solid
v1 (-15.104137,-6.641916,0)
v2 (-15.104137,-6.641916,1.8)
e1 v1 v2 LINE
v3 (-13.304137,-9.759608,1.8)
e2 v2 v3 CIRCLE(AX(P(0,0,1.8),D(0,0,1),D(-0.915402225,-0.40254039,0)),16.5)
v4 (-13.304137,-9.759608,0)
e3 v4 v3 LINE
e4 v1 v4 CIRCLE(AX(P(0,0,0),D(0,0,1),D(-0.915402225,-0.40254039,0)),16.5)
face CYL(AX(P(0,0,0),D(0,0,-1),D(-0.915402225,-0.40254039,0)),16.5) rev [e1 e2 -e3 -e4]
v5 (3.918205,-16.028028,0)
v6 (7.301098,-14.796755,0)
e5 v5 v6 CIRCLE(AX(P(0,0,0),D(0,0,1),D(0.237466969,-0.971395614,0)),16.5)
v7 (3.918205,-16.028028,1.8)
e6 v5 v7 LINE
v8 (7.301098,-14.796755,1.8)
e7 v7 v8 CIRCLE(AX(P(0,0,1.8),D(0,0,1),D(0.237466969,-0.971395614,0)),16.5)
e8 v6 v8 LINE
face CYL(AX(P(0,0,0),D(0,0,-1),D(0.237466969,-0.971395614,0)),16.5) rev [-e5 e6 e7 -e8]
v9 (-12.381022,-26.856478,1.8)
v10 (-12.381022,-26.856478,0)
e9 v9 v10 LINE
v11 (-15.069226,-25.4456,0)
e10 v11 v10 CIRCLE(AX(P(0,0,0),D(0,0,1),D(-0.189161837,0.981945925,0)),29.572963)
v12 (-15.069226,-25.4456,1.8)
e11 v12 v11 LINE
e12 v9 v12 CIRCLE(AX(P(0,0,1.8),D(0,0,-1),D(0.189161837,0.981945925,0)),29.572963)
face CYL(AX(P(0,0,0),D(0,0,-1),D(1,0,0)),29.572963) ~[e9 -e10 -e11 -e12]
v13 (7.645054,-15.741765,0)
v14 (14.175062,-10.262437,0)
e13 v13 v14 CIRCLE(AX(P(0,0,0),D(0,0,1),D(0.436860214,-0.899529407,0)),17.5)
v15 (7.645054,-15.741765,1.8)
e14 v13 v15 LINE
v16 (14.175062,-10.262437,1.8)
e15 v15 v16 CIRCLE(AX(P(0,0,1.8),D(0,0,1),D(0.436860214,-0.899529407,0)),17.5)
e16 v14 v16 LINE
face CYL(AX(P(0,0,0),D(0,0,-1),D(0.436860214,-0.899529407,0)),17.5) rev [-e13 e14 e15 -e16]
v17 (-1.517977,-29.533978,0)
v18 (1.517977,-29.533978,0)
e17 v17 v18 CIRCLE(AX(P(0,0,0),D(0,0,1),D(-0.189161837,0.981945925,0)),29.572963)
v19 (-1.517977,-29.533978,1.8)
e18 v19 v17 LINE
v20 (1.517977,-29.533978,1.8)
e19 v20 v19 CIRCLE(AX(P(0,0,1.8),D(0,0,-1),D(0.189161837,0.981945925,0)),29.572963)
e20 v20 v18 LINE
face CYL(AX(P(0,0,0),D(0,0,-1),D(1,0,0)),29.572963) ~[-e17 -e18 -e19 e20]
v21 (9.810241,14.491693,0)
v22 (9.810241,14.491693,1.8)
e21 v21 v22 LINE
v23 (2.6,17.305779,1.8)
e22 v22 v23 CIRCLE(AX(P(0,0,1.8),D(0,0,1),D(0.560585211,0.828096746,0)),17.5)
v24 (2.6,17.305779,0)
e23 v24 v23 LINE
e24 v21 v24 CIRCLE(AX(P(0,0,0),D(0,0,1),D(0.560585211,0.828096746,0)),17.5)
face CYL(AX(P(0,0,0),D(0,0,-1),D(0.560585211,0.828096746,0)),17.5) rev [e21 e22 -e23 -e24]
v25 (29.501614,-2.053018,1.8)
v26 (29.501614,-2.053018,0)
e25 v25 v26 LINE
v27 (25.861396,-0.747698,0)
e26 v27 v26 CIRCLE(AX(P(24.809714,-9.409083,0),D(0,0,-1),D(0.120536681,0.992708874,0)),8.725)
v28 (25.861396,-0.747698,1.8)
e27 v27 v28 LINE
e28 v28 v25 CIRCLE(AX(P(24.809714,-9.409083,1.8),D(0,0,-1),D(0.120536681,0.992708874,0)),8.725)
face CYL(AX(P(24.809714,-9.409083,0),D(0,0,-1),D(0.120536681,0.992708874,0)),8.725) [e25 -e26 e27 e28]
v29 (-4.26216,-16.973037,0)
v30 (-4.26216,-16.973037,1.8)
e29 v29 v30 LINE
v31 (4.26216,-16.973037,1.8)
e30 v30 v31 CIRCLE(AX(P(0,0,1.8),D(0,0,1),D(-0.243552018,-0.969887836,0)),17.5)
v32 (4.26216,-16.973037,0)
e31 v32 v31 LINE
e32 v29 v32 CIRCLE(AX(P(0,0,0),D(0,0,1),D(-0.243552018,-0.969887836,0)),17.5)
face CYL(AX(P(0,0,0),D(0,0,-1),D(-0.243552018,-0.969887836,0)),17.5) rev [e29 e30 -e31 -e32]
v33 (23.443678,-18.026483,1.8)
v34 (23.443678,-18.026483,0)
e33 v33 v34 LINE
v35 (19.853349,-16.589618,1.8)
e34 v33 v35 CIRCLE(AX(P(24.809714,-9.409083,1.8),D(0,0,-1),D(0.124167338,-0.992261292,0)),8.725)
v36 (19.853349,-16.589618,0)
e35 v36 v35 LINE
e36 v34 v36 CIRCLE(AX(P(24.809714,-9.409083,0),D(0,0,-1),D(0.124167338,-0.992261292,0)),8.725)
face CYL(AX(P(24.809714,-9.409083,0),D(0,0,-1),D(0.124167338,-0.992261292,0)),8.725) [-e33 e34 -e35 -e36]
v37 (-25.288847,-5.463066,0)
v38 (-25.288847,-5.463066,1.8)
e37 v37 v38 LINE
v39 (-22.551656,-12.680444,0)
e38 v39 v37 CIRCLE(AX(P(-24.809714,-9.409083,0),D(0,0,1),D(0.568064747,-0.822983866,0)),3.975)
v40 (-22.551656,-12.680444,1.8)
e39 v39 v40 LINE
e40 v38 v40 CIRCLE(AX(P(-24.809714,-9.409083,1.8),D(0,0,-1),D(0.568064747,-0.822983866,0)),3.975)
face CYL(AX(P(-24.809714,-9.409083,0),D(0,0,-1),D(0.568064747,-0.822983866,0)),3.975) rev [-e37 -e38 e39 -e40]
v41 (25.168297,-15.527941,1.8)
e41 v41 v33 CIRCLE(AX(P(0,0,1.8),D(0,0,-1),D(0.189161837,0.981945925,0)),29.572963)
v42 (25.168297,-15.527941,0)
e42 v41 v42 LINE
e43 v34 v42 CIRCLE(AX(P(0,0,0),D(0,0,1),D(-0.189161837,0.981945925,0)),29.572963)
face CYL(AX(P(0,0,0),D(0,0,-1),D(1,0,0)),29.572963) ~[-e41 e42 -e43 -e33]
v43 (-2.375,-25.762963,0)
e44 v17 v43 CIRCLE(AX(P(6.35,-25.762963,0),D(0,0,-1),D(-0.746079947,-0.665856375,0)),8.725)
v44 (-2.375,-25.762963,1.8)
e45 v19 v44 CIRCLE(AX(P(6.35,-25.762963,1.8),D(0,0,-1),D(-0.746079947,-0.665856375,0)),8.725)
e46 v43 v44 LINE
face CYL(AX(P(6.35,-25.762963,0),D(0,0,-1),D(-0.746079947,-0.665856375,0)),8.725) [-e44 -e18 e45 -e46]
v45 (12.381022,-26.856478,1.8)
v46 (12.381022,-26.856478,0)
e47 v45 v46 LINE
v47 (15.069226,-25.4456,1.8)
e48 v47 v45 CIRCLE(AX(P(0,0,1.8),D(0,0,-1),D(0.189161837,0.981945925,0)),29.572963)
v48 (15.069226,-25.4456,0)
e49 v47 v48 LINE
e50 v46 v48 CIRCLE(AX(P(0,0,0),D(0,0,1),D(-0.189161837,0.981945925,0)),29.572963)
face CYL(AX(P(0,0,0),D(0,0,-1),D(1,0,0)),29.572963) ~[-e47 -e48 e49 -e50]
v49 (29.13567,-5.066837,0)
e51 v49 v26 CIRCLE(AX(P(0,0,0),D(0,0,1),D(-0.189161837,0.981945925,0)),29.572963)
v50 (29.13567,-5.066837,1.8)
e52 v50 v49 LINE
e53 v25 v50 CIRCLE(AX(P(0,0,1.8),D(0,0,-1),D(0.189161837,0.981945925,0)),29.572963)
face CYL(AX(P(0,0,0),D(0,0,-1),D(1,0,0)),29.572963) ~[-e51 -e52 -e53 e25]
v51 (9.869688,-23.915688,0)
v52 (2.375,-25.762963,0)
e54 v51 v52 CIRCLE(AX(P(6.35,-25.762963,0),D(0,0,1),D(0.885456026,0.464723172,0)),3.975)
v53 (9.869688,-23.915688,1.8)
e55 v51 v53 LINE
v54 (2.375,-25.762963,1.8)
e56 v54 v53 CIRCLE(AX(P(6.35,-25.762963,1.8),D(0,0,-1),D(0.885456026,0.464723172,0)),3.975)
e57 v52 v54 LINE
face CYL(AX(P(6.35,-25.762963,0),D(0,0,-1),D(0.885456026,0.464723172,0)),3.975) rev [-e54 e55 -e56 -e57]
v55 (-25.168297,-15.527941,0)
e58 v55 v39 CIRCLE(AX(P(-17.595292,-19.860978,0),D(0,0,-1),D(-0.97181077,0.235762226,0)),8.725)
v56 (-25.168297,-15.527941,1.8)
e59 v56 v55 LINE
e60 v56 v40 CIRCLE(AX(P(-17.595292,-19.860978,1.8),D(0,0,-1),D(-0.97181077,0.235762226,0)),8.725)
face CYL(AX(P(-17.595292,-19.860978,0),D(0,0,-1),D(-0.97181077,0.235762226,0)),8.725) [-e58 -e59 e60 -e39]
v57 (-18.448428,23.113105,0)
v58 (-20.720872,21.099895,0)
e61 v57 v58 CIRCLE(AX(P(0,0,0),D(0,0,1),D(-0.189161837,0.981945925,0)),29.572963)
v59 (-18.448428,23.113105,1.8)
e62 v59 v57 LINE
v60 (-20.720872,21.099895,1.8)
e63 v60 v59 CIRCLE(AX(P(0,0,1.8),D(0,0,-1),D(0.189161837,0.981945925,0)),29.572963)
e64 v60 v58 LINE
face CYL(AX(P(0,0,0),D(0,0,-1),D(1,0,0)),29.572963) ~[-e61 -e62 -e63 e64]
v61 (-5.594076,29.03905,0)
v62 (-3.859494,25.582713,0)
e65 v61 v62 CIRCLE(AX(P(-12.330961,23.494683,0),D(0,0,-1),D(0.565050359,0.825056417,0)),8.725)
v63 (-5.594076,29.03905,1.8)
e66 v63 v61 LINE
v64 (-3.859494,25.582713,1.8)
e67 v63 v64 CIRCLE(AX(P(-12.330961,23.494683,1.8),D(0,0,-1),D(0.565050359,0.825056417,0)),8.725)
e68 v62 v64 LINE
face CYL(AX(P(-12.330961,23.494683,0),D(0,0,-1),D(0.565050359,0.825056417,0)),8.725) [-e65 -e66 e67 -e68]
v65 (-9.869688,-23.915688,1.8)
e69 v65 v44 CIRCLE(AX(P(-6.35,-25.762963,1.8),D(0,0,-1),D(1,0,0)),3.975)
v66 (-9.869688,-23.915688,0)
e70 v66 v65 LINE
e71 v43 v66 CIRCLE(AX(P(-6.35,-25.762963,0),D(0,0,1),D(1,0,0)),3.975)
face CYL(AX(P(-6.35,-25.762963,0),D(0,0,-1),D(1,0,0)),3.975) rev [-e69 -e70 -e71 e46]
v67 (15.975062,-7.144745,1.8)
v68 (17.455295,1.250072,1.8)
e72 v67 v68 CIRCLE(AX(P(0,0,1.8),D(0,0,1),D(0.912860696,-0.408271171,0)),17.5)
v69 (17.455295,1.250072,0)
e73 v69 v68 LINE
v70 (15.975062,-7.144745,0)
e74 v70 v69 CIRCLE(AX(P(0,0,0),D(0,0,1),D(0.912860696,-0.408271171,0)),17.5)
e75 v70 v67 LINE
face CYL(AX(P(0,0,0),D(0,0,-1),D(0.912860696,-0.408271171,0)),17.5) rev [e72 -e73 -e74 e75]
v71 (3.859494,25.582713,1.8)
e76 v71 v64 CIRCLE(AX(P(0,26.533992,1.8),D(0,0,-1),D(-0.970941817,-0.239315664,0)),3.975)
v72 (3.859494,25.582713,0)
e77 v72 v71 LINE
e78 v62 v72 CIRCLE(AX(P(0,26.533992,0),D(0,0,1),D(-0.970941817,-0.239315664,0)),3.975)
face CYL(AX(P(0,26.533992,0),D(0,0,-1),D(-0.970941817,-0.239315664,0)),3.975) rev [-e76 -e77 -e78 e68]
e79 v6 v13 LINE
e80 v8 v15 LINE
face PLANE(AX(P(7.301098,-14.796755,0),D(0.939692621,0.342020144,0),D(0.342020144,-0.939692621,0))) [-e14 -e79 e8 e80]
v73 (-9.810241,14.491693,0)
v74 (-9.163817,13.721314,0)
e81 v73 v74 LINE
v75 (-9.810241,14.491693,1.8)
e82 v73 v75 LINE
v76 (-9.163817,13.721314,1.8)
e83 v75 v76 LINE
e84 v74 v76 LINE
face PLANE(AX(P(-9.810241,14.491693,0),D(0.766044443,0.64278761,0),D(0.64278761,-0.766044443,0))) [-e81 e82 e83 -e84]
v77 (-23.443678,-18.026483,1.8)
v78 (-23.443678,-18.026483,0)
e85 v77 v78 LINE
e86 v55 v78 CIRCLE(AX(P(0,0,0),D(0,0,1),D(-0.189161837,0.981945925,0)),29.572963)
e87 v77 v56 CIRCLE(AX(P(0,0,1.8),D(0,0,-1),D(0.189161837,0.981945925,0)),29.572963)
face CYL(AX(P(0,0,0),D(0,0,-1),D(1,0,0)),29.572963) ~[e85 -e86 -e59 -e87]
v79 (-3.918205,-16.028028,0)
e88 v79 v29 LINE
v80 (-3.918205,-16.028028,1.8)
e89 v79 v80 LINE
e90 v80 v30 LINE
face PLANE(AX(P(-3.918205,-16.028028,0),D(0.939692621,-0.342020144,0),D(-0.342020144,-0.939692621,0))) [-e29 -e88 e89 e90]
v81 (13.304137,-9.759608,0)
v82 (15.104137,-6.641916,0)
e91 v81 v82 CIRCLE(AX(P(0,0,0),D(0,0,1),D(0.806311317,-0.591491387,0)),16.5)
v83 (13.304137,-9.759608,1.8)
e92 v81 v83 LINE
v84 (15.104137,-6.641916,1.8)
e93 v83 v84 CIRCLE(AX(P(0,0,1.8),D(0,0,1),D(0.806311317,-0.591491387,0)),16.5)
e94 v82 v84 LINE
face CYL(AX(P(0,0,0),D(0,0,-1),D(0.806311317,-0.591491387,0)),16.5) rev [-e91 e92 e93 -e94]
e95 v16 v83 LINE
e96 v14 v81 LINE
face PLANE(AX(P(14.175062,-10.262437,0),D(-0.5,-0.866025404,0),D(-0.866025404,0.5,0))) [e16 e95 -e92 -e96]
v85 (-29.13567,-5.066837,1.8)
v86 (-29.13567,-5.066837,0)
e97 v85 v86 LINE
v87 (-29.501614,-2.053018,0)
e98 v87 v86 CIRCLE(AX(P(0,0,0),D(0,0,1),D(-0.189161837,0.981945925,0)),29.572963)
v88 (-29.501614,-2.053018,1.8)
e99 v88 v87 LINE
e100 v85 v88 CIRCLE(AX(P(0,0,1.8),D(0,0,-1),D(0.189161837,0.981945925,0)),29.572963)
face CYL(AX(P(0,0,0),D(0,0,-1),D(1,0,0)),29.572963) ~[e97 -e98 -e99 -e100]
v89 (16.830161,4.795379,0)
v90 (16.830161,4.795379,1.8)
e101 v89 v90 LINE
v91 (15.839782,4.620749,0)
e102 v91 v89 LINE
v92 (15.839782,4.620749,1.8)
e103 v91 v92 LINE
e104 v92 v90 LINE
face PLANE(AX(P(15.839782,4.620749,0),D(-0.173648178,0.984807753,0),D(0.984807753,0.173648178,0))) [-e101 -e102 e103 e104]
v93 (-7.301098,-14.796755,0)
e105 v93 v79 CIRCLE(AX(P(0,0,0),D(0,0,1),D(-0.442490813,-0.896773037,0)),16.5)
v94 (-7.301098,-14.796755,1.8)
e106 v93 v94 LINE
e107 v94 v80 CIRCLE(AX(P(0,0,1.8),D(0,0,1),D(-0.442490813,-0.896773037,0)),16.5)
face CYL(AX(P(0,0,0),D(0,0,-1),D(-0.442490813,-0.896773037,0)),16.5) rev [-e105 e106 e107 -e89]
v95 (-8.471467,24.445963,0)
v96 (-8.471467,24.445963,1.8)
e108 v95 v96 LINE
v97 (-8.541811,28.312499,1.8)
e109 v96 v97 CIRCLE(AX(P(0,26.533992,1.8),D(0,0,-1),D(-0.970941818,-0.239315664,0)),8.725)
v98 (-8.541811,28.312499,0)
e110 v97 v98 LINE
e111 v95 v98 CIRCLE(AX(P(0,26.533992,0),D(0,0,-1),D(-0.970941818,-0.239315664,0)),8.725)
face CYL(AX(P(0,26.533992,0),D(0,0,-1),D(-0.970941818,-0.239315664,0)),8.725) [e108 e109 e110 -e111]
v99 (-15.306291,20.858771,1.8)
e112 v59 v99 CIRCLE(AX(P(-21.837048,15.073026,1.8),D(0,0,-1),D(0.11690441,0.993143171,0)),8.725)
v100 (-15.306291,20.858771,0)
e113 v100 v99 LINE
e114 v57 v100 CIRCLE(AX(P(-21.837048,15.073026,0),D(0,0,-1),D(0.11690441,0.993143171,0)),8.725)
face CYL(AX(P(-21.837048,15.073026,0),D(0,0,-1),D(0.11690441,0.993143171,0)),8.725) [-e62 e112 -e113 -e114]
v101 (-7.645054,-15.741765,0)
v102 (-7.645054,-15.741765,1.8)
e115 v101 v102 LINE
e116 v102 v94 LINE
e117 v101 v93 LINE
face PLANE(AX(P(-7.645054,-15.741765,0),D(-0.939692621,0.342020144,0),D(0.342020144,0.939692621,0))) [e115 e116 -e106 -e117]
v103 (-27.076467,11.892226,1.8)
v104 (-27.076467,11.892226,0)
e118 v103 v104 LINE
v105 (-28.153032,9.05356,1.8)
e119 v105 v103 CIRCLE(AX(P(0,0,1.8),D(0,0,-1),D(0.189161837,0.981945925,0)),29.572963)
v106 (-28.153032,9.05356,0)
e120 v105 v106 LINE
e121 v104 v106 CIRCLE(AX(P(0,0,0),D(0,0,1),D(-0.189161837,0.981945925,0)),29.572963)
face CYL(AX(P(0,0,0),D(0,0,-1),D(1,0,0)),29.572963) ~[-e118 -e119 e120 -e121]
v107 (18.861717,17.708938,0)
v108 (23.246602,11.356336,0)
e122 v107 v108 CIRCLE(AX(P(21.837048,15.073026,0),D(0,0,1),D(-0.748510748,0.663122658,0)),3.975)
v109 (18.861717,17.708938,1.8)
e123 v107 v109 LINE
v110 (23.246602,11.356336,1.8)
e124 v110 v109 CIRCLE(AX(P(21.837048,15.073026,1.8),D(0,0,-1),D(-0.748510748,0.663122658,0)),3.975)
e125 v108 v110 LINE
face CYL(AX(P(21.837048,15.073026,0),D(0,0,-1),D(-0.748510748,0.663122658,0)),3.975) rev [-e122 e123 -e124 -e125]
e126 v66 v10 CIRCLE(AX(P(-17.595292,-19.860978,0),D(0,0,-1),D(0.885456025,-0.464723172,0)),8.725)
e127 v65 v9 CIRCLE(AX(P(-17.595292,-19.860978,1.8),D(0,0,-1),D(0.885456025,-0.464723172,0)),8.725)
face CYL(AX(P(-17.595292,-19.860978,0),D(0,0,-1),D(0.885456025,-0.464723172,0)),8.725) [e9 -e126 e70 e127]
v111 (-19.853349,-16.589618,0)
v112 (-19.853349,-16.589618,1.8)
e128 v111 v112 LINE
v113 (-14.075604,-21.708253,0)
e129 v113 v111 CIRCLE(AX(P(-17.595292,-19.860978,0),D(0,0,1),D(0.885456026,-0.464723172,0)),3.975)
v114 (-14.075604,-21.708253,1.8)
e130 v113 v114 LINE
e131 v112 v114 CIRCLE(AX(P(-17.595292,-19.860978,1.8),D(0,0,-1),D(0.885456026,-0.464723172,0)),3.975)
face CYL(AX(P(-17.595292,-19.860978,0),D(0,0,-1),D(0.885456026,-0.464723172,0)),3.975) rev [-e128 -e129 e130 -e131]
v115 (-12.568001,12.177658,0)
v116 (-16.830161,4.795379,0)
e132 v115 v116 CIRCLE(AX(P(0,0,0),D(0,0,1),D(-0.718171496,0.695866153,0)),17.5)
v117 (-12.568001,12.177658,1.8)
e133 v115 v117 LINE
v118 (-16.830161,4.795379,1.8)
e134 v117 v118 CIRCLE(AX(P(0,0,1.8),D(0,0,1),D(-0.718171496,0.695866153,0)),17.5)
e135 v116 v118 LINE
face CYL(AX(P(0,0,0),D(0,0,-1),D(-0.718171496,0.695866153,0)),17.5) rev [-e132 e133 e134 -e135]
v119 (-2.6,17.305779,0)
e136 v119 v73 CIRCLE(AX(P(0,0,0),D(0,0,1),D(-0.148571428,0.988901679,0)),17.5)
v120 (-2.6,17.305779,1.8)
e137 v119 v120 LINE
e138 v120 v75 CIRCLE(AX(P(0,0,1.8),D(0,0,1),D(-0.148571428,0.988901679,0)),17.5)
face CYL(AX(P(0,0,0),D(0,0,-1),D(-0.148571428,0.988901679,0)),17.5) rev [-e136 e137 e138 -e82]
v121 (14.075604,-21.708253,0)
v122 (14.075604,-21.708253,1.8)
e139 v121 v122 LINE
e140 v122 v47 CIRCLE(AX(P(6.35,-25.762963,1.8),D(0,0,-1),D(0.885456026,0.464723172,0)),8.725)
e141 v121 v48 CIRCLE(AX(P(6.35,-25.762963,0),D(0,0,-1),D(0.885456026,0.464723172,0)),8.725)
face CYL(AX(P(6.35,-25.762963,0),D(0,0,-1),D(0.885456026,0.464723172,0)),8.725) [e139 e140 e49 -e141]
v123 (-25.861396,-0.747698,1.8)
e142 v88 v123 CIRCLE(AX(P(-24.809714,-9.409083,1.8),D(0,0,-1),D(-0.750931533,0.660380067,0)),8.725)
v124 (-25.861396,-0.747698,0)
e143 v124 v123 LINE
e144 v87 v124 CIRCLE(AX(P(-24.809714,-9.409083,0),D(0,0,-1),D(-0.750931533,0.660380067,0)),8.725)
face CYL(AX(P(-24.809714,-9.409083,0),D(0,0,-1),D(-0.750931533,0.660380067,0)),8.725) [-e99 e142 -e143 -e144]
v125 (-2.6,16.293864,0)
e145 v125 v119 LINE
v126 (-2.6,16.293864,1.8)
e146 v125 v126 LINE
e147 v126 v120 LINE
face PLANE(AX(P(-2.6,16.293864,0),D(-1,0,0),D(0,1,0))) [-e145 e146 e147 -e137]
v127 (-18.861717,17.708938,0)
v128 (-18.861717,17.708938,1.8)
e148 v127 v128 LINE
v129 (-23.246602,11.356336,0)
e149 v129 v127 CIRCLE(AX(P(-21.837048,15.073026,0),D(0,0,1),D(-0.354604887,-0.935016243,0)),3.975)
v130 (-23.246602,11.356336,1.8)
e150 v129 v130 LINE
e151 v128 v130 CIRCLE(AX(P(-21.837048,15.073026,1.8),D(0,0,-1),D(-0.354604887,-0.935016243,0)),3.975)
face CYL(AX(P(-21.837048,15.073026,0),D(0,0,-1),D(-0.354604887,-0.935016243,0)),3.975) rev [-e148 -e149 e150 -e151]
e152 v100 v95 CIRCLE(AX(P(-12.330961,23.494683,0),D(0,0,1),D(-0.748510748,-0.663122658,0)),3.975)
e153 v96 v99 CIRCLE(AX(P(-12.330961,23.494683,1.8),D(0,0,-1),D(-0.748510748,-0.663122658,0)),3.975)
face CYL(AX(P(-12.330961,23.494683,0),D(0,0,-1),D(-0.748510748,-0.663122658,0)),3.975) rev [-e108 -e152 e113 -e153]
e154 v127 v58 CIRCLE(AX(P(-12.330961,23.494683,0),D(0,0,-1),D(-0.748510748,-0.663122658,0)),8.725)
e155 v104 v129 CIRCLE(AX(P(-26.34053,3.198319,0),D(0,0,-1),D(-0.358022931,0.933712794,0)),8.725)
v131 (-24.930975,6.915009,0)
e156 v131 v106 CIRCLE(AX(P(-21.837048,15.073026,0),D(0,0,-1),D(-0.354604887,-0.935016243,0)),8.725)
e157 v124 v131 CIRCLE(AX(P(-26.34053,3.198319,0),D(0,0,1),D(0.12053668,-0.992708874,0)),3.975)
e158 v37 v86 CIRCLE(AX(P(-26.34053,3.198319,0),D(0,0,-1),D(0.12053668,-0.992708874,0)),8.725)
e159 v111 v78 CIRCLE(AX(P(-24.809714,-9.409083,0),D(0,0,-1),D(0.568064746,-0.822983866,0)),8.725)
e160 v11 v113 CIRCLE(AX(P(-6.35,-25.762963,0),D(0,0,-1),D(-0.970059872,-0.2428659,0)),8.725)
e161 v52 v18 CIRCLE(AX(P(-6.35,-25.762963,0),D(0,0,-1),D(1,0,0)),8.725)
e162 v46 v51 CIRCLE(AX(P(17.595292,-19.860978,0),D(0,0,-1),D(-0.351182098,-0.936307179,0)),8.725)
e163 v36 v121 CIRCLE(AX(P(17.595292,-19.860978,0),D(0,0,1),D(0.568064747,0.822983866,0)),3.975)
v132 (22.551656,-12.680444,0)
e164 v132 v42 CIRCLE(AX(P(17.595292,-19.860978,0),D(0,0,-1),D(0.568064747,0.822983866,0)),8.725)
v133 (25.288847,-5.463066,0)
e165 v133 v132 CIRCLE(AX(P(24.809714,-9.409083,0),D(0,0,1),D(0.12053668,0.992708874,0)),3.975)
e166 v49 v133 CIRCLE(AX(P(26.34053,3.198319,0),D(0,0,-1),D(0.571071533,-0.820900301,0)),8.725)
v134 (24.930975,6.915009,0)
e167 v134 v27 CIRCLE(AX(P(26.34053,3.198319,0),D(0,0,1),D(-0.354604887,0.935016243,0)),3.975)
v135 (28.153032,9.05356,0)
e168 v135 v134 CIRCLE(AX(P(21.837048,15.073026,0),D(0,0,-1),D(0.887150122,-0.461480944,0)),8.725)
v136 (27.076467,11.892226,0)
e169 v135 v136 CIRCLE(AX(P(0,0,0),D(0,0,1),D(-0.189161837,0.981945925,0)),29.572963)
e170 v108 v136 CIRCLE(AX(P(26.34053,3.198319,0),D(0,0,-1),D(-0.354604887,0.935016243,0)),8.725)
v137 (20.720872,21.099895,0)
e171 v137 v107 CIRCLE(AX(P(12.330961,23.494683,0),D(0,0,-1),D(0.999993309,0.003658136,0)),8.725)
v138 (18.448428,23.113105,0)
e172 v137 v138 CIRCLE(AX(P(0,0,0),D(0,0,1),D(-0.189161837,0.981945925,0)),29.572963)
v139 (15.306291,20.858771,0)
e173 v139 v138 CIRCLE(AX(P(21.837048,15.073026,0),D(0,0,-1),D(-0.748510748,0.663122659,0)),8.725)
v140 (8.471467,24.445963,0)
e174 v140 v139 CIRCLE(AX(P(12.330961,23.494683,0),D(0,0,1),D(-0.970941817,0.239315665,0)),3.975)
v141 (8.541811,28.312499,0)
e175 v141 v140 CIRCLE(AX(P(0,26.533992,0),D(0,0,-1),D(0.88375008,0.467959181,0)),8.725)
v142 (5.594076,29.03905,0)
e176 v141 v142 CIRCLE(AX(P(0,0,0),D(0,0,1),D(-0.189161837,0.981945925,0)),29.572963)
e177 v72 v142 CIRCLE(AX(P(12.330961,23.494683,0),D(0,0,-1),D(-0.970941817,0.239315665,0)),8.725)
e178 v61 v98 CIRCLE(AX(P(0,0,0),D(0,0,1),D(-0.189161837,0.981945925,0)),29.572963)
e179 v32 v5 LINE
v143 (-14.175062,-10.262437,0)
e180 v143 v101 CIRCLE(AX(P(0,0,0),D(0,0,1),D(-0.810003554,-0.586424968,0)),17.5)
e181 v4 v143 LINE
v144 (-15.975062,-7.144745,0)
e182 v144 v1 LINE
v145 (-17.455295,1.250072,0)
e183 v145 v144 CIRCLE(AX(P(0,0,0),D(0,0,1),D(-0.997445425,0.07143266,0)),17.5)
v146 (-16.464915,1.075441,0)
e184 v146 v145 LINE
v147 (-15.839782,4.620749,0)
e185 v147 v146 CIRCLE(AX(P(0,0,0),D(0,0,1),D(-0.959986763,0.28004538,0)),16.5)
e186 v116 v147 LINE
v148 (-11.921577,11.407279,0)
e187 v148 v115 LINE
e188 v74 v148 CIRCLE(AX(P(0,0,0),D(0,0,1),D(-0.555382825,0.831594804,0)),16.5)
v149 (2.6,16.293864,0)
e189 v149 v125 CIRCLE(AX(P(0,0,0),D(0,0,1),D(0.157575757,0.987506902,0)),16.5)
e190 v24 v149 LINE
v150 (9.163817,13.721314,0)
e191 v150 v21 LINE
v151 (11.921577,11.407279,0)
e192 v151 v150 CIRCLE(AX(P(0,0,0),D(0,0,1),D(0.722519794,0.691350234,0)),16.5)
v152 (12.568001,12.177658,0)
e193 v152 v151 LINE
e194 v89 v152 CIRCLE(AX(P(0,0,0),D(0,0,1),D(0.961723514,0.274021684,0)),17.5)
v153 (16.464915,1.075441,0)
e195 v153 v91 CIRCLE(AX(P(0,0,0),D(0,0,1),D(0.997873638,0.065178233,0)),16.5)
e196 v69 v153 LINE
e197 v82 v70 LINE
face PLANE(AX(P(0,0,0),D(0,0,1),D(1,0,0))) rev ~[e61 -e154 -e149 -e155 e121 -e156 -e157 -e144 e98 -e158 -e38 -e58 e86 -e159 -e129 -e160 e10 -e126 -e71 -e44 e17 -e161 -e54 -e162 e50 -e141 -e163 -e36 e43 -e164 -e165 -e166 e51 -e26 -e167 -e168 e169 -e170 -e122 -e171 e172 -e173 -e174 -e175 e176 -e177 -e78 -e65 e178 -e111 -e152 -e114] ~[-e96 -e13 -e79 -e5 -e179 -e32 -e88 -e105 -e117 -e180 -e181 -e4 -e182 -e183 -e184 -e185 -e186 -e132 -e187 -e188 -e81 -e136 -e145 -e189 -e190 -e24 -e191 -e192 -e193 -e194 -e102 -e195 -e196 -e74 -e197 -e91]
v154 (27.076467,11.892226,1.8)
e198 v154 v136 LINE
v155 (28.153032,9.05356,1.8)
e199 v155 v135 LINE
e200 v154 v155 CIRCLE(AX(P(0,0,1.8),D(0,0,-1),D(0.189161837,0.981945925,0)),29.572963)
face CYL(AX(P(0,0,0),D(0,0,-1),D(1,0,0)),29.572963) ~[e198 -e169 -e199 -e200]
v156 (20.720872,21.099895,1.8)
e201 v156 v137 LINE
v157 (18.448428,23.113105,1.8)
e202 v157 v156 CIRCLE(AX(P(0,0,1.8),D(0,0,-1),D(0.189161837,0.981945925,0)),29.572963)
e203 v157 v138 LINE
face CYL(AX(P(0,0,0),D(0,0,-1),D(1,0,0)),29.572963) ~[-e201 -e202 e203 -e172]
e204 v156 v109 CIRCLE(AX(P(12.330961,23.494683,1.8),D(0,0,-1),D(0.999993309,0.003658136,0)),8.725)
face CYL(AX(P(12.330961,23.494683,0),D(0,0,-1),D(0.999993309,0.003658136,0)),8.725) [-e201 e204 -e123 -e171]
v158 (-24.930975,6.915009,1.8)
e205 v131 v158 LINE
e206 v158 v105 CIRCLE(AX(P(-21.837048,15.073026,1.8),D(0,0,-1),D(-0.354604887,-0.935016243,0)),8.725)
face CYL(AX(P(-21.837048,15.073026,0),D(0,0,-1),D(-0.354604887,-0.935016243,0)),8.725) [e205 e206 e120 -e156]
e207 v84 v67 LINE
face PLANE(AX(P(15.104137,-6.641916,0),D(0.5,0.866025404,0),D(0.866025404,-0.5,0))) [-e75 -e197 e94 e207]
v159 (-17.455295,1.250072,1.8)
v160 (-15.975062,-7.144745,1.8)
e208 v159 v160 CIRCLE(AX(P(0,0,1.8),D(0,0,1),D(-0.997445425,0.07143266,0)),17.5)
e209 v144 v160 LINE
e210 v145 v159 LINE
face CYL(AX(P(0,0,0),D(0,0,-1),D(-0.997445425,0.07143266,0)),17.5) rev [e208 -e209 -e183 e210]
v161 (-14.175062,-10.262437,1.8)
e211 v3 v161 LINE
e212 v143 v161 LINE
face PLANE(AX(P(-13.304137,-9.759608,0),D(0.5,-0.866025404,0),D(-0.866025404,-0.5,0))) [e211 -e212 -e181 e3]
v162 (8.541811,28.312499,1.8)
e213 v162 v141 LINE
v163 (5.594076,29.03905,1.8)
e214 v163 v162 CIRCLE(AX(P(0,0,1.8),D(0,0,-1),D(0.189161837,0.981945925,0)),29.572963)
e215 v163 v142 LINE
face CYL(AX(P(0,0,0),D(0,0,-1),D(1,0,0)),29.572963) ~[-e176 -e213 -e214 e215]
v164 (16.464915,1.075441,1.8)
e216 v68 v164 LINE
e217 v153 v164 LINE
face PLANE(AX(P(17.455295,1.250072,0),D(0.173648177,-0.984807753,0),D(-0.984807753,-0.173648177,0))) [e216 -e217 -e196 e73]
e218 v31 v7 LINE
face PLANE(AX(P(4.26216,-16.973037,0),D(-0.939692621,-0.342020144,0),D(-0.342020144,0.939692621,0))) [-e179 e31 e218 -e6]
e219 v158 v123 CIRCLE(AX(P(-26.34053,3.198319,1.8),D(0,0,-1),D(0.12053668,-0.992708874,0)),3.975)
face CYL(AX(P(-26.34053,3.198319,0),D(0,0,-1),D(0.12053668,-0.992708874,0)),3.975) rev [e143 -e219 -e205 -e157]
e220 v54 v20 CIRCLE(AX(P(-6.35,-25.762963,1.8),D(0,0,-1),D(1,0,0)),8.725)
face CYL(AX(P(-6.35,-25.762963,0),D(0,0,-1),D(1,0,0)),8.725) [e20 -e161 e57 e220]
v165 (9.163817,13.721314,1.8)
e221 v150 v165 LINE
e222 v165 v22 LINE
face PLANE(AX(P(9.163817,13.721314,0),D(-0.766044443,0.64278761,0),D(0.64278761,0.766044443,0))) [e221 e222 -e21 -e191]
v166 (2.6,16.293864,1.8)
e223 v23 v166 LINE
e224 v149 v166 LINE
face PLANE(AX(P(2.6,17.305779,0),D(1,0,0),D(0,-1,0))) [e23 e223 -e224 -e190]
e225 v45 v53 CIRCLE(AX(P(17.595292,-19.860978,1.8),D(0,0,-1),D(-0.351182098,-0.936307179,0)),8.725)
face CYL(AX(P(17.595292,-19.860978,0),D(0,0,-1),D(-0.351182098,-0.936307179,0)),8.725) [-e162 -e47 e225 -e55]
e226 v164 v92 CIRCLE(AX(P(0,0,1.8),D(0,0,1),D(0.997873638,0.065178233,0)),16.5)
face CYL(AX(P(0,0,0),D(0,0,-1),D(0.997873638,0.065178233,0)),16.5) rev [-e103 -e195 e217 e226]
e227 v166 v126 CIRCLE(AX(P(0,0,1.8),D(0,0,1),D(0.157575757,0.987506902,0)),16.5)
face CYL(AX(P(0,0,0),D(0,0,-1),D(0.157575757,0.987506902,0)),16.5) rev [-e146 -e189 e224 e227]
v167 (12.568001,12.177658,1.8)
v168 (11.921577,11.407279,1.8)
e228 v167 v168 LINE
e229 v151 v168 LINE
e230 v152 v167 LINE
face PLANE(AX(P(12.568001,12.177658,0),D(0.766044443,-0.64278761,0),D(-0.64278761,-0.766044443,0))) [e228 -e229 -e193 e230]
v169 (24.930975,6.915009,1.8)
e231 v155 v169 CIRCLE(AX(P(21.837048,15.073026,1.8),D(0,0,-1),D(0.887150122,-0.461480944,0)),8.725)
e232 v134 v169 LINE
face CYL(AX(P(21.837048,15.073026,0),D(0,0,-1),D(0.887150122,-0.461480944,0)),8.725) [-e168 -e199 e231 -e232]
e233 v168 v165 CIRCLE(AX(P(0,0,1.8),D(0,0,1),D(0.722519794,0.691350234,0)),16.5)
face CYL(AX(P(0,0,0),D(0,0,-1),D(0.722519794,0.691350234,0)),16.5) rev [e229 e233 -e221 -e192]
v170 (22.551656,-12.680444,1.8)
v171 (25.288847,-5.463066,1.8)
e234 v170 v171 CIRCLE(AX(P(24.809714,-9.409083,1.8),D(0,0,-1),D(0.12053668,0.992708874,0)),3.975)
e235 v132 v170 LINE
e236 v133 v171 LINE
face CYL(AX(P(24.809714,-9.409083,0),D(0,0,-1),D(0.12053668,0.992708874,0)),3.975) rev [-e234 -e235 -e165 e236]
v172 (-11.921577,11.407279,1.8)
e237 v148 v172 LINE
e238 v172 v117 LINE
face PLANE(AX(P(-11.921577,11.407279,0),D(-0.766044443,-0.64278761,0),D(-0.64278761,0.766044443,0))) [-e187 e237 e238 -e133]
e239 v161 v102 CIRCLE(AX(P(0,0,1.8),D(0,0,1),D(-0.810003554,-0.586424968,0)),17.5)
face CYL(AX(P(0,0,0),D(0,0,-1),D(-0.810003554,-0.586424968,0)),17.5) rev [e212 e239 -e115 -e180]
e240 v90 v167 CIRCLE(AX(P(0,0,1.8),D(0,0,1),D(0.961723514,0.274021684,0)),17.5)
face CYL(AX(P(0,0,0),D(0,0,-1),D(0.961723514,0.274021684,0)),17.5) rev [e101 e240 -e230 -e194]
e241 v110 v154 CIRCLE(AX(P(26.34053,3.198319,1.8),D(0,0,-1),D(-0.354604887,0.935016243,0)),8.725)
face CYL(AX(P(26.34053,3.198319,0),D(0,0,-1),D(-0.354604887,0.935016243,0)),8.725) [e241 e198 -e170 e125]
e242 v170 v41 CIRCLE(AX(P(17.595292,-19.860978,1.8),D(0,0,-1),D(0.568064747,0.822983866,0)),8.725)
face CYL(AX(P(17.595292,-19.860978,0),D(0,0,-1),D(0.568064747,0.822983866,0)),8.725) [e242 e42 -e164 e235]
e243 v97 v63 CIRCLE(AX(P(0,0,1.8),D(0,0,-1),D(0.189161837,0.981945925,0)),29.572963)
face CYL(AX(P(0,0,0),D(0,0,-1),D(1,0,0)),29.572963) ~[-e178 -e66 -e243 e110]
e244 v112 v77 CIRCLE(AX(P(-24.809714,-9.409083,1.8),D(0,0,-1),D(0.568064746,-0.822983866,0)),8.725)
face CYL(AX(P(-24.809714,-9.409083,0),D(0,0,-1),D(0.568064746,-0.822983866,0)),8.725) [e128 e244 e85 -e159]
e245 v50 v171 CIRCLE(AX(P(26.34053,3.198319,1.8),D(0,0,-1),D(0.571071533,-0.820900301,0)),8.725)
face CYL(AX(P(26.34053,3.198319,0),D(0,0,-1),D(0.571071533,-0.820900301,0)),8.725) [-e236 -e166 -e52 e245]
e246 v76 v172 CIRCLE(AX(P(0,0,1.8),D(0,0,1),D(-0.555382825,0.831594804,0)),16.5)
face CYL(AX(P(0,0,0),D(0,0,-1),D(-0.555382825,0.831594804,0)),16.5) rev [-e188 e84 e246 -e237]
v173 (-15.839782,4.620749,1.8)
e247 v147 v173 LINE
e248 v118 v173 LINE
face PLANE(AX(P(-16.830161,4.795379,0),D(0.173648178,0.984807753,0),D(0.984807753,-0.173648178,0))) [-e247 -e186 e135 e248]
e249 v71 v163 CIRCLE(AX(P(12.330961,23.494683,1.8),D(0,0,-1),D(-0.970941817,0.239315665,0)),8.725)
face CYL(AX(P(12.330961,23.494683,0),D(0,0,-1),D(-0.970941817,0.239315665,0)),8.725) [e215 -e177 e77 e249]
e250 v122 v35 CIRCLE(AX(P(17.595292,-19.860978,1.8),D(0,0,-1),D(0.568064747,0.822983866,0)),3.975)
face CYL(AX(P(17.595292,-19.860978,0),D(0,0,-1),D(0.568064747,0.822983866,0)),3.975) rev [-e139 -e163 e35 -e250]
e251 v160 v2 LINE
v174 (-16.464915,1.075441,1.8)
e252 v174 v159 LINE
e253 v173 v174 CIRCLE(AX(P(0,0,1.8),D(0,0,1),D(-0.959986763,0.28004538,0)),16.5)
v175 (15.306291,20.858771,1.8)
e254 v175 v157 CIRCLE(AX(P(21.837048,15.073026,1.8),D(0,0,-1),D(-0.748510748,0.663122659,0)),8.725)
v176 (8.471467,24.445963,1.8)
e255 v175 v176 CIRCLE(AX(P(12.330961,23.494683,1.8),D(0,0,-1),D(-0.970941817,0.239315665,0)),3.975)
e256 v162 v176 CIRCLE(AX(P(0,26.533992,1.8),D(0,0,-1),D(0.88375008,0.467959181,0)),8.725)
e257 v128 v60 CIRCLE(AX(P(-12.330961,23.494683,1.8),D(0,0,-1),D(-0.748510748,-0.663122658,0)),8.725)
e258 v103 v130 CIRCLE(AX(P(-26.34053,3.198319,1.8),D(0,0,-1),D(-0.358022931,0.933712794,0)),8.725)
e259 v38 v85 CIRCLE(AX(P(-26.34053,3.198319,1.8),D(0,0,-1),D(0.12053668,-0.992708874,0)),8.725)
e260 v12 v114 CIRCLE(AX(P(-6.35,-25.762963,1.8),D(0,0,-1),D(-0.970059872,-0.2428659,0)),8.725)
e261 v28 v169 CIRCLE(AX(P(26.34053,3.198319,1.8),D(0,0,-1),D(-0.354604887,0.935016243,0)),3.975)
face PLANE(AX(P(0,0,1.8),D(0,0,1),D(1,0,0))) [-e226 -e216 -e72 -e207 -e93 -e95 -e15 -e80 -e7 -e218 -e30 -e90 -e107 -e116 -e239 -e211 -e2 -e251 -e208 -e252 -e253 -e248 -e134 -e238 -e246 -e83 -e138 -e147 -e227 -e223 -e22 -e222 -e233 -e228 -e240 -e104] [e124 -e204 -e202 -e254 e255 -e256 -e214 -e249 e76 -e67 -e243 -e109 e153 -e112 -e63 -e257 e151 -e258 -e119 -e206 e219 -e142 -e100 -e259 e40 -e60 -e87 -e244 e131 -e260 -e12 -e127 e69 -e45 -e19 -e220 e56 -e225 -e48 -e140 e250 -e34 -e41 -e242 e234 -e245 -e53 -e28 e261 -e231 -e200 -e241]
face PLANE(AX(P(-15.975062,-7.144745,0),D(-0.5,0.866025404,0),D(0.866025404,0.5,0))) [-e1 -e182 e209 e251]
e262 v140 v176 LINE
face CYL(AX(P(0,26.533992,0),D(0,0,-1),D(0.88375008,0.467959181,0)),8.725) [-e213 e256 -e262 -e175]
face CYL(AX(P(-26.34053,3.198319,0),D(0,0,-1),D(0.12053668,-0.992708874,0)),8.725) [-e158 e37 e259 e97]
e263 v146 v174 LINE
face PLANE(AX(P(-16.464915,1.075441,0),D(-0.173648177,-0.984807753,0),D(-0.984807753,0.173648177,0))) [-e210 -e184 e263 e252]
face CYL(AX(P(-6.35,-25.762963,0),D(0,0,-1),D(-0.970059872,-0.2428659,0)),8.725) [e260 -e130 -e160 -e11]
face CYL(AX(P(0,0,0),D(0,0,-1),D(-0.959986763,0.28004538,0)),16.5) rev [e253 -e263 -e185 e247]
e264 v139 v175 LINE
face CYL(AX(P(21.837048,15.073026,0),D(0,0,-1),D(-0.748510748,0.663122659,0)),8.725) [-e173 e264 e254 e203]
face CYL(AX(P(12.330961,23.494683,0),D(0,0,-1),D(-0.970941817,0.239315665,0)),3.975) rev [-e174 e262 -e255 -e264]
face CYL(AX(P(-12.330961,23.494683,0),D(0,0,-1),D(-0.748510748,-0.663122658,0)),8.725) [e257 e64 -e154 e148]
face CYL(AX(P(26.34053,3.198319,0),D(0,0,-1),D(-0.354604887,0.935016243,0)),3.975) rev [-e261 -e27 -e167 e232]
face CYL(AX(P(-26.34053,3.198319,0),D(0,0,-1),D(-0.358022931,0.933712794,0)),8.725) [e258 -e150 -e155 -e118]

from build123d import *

# Parameters (mm, degrees)
SK_DISCO_R           = 29.572962734
DISCO_DEPTH          = 1.8
HUECO_DIENTE_DEPTH   = 42.861202201
MATRIZ_DIENTES_COUNT = 13


with BuildPart() as part:
    # Sk_Disco → Disco (new body)
    with BuildSketch(Plane.XY):
        Circle(SK_DISCO_R)
        with BuildLine():
            Line((2.6, 17.305779381), (2.6, 16.293863876))
            ThreePointArc((2.6, 16.293863876), (0, 16.5), (-2.6, 16.293863876))
            Line((-2.6, 16.293863876), (-2.6, 17.305779381))
            ThreePointArc((-2.6, 17.305779381), (-6.362648192, 16.302352836), (-9.810241185, 14.491693065))
            Line((-9.810241185, 14.491693065), (-9.163816615, 13.721314261))
            ThreePointArc((-9.163816615, 13.721314261), (-10.60599556, 12.639733311), (-11.92157661, 11.407278866))
            Line((-11.92157661, 11.407278866), (-12.56800118, 12.17765767))
            ThreePointArc((-12.56800118, 12.17765767), (-15.155444566, 8.75), (-16.830161491, 4.795379462))
            Line((-16.830161491, 4.795379462), (-15.839781591, 4.620748764))
            ThreePointArc((-15.839781591, 4.620748764), (-16.249327925, 2.865194932), (-16.464915031, 1.075440854))
            Line((-16.464915031, 1.075440854), (-17.455294931, 1.250071551))
            ThreePointArc((-17.455294931, 1.250071551), (-17.234135678, -3.038843109), (-15.975062189, -7.144745486))
            Line((-15.975062189, -7.144745486), (-15.104136721, -6.641916433))
            ThreePointArc((-15.104136721, -6.641916433), (-14.289419162, -8.25), (-13.304136721, -9.759607887))
            Line((-13.304136721, -9.759607887), (-14.175062189, -10.26243694))
            ThreePointArc((-14.175062189, -10.26243694), (-11.24878317, -13.405777755), (-7.645053746, -15.741764616))
            Line((-7.645053746, -15.741764616), (-7.301098416, -14.796755115))
            ThreePointArc((-7.301098416, -14.796755115), (-5.643332365, -15.504928243), (-3.918204981, -16.028027631))
            Line((-3.918204981, -16.028027631), (-4.262160311, -16.973037132))
            ThreePointArc((-4.262160311, -16.973037132), (0, -17.5), (4.262160311, -16.973037132))
            Line((4.262160311, -16.973037132), (3.918204981, -16.028027631))
            ThreePointArc((3.918204981, -16.028027631), (5.643332365, -15.504928243), (7.301098416, -14.796755115))
            Line((7.301098416, -14.796755115), (7.645053746, -15.741764616))
            ThreePointArc((7.645053746, -15.741764616), (11.24878317, -13.405777755), (14.175062189, -10.26243694))
            Line((14.175062189, -10.26243694), (13.304136721, -9.759607887))
            ThreePointArc((13.304136721, -9.759607887), (14.289419162, -8.25), (15.104136721, -6.641916433))
            Line((15.104136721, -6.641916433), (15.975062189, -7.144745486))
            ThreePointArc((15.975062189, -7.144745486), (17.234135678, -3.038843109), (17.455294931, 1.250071551))
            Line((17.455294931, 1.250071551), (16.464915031, 1.075440854))
            ThreePointArc((16.464915031, 1.075440854), (16.249327925, 2.865194932), (15.839781591, 4.620748764))
            Line((15.839781591, 4.620748764), (16.830161491, 4.795379462))
            ThreePointArc((16.830161491, 4.795379462), (15.155444566, 8.75), (12.56800118, 12.17765767))
            Line((12.56800118, 12.17765767), (11.92157661, 11.407278866))
            ThreePointArc((11.92157661, 11.407278866), (10.60599556, 12.639733311), (9.163816615, 13.721314261))
            Line((9.163816615, 13.721314261), (9.810241185, 14.491693065))
            ThreePointArc((9.810241185, 14.491693065), (6.362648192, 16.302352836), (2.6, 17.305779381))
        make_face(mode=Mode.SUBTRACT)
    extrude(amount=DISCO_DEPTH)

    # Sk_Hueco → Hueco_diente (cut, through all)
    with BuildSketch(Plane.XY):
        with BuildLine():
            ThreePointArc((-3.859493724, 25.582712562), (0, 22.558992327), (3.859493724, 25.582712562))
            ThreePointArc((3.859493724, 25.582712562), (5.159504407, 28.464173723), (7.400896702, 30.693300634))
            ThreePointArc((7.400896702, 30.693300634), (0, 31.572962734), (-7.400896702, 30.693300634))
            ThreePointArc((-7.400896702, 30.693300634), (-5.159504407, 28.464173723), (-3.859493724, 25.582712562))
        make_face()
    hueco_diente = extrude(amount=HUECO_DIENTE_DEPTH, mode=Mode.SUBTRACT)

    # Matriz_dientes: Hueco_diente ×13 about axis
    matriz_dientes_axis = Axis((0, 0, -0.09), (0, 0, 1))
    for i in range(1, MATRIZ_DIENTES_COUNT):
        add(hueco_diente.rotate(matriz_dientes_axis, i * 360 / MATRIZ_DIENTES_COUNT), mode=Mode.SUBTRACT)


solid = part.part
